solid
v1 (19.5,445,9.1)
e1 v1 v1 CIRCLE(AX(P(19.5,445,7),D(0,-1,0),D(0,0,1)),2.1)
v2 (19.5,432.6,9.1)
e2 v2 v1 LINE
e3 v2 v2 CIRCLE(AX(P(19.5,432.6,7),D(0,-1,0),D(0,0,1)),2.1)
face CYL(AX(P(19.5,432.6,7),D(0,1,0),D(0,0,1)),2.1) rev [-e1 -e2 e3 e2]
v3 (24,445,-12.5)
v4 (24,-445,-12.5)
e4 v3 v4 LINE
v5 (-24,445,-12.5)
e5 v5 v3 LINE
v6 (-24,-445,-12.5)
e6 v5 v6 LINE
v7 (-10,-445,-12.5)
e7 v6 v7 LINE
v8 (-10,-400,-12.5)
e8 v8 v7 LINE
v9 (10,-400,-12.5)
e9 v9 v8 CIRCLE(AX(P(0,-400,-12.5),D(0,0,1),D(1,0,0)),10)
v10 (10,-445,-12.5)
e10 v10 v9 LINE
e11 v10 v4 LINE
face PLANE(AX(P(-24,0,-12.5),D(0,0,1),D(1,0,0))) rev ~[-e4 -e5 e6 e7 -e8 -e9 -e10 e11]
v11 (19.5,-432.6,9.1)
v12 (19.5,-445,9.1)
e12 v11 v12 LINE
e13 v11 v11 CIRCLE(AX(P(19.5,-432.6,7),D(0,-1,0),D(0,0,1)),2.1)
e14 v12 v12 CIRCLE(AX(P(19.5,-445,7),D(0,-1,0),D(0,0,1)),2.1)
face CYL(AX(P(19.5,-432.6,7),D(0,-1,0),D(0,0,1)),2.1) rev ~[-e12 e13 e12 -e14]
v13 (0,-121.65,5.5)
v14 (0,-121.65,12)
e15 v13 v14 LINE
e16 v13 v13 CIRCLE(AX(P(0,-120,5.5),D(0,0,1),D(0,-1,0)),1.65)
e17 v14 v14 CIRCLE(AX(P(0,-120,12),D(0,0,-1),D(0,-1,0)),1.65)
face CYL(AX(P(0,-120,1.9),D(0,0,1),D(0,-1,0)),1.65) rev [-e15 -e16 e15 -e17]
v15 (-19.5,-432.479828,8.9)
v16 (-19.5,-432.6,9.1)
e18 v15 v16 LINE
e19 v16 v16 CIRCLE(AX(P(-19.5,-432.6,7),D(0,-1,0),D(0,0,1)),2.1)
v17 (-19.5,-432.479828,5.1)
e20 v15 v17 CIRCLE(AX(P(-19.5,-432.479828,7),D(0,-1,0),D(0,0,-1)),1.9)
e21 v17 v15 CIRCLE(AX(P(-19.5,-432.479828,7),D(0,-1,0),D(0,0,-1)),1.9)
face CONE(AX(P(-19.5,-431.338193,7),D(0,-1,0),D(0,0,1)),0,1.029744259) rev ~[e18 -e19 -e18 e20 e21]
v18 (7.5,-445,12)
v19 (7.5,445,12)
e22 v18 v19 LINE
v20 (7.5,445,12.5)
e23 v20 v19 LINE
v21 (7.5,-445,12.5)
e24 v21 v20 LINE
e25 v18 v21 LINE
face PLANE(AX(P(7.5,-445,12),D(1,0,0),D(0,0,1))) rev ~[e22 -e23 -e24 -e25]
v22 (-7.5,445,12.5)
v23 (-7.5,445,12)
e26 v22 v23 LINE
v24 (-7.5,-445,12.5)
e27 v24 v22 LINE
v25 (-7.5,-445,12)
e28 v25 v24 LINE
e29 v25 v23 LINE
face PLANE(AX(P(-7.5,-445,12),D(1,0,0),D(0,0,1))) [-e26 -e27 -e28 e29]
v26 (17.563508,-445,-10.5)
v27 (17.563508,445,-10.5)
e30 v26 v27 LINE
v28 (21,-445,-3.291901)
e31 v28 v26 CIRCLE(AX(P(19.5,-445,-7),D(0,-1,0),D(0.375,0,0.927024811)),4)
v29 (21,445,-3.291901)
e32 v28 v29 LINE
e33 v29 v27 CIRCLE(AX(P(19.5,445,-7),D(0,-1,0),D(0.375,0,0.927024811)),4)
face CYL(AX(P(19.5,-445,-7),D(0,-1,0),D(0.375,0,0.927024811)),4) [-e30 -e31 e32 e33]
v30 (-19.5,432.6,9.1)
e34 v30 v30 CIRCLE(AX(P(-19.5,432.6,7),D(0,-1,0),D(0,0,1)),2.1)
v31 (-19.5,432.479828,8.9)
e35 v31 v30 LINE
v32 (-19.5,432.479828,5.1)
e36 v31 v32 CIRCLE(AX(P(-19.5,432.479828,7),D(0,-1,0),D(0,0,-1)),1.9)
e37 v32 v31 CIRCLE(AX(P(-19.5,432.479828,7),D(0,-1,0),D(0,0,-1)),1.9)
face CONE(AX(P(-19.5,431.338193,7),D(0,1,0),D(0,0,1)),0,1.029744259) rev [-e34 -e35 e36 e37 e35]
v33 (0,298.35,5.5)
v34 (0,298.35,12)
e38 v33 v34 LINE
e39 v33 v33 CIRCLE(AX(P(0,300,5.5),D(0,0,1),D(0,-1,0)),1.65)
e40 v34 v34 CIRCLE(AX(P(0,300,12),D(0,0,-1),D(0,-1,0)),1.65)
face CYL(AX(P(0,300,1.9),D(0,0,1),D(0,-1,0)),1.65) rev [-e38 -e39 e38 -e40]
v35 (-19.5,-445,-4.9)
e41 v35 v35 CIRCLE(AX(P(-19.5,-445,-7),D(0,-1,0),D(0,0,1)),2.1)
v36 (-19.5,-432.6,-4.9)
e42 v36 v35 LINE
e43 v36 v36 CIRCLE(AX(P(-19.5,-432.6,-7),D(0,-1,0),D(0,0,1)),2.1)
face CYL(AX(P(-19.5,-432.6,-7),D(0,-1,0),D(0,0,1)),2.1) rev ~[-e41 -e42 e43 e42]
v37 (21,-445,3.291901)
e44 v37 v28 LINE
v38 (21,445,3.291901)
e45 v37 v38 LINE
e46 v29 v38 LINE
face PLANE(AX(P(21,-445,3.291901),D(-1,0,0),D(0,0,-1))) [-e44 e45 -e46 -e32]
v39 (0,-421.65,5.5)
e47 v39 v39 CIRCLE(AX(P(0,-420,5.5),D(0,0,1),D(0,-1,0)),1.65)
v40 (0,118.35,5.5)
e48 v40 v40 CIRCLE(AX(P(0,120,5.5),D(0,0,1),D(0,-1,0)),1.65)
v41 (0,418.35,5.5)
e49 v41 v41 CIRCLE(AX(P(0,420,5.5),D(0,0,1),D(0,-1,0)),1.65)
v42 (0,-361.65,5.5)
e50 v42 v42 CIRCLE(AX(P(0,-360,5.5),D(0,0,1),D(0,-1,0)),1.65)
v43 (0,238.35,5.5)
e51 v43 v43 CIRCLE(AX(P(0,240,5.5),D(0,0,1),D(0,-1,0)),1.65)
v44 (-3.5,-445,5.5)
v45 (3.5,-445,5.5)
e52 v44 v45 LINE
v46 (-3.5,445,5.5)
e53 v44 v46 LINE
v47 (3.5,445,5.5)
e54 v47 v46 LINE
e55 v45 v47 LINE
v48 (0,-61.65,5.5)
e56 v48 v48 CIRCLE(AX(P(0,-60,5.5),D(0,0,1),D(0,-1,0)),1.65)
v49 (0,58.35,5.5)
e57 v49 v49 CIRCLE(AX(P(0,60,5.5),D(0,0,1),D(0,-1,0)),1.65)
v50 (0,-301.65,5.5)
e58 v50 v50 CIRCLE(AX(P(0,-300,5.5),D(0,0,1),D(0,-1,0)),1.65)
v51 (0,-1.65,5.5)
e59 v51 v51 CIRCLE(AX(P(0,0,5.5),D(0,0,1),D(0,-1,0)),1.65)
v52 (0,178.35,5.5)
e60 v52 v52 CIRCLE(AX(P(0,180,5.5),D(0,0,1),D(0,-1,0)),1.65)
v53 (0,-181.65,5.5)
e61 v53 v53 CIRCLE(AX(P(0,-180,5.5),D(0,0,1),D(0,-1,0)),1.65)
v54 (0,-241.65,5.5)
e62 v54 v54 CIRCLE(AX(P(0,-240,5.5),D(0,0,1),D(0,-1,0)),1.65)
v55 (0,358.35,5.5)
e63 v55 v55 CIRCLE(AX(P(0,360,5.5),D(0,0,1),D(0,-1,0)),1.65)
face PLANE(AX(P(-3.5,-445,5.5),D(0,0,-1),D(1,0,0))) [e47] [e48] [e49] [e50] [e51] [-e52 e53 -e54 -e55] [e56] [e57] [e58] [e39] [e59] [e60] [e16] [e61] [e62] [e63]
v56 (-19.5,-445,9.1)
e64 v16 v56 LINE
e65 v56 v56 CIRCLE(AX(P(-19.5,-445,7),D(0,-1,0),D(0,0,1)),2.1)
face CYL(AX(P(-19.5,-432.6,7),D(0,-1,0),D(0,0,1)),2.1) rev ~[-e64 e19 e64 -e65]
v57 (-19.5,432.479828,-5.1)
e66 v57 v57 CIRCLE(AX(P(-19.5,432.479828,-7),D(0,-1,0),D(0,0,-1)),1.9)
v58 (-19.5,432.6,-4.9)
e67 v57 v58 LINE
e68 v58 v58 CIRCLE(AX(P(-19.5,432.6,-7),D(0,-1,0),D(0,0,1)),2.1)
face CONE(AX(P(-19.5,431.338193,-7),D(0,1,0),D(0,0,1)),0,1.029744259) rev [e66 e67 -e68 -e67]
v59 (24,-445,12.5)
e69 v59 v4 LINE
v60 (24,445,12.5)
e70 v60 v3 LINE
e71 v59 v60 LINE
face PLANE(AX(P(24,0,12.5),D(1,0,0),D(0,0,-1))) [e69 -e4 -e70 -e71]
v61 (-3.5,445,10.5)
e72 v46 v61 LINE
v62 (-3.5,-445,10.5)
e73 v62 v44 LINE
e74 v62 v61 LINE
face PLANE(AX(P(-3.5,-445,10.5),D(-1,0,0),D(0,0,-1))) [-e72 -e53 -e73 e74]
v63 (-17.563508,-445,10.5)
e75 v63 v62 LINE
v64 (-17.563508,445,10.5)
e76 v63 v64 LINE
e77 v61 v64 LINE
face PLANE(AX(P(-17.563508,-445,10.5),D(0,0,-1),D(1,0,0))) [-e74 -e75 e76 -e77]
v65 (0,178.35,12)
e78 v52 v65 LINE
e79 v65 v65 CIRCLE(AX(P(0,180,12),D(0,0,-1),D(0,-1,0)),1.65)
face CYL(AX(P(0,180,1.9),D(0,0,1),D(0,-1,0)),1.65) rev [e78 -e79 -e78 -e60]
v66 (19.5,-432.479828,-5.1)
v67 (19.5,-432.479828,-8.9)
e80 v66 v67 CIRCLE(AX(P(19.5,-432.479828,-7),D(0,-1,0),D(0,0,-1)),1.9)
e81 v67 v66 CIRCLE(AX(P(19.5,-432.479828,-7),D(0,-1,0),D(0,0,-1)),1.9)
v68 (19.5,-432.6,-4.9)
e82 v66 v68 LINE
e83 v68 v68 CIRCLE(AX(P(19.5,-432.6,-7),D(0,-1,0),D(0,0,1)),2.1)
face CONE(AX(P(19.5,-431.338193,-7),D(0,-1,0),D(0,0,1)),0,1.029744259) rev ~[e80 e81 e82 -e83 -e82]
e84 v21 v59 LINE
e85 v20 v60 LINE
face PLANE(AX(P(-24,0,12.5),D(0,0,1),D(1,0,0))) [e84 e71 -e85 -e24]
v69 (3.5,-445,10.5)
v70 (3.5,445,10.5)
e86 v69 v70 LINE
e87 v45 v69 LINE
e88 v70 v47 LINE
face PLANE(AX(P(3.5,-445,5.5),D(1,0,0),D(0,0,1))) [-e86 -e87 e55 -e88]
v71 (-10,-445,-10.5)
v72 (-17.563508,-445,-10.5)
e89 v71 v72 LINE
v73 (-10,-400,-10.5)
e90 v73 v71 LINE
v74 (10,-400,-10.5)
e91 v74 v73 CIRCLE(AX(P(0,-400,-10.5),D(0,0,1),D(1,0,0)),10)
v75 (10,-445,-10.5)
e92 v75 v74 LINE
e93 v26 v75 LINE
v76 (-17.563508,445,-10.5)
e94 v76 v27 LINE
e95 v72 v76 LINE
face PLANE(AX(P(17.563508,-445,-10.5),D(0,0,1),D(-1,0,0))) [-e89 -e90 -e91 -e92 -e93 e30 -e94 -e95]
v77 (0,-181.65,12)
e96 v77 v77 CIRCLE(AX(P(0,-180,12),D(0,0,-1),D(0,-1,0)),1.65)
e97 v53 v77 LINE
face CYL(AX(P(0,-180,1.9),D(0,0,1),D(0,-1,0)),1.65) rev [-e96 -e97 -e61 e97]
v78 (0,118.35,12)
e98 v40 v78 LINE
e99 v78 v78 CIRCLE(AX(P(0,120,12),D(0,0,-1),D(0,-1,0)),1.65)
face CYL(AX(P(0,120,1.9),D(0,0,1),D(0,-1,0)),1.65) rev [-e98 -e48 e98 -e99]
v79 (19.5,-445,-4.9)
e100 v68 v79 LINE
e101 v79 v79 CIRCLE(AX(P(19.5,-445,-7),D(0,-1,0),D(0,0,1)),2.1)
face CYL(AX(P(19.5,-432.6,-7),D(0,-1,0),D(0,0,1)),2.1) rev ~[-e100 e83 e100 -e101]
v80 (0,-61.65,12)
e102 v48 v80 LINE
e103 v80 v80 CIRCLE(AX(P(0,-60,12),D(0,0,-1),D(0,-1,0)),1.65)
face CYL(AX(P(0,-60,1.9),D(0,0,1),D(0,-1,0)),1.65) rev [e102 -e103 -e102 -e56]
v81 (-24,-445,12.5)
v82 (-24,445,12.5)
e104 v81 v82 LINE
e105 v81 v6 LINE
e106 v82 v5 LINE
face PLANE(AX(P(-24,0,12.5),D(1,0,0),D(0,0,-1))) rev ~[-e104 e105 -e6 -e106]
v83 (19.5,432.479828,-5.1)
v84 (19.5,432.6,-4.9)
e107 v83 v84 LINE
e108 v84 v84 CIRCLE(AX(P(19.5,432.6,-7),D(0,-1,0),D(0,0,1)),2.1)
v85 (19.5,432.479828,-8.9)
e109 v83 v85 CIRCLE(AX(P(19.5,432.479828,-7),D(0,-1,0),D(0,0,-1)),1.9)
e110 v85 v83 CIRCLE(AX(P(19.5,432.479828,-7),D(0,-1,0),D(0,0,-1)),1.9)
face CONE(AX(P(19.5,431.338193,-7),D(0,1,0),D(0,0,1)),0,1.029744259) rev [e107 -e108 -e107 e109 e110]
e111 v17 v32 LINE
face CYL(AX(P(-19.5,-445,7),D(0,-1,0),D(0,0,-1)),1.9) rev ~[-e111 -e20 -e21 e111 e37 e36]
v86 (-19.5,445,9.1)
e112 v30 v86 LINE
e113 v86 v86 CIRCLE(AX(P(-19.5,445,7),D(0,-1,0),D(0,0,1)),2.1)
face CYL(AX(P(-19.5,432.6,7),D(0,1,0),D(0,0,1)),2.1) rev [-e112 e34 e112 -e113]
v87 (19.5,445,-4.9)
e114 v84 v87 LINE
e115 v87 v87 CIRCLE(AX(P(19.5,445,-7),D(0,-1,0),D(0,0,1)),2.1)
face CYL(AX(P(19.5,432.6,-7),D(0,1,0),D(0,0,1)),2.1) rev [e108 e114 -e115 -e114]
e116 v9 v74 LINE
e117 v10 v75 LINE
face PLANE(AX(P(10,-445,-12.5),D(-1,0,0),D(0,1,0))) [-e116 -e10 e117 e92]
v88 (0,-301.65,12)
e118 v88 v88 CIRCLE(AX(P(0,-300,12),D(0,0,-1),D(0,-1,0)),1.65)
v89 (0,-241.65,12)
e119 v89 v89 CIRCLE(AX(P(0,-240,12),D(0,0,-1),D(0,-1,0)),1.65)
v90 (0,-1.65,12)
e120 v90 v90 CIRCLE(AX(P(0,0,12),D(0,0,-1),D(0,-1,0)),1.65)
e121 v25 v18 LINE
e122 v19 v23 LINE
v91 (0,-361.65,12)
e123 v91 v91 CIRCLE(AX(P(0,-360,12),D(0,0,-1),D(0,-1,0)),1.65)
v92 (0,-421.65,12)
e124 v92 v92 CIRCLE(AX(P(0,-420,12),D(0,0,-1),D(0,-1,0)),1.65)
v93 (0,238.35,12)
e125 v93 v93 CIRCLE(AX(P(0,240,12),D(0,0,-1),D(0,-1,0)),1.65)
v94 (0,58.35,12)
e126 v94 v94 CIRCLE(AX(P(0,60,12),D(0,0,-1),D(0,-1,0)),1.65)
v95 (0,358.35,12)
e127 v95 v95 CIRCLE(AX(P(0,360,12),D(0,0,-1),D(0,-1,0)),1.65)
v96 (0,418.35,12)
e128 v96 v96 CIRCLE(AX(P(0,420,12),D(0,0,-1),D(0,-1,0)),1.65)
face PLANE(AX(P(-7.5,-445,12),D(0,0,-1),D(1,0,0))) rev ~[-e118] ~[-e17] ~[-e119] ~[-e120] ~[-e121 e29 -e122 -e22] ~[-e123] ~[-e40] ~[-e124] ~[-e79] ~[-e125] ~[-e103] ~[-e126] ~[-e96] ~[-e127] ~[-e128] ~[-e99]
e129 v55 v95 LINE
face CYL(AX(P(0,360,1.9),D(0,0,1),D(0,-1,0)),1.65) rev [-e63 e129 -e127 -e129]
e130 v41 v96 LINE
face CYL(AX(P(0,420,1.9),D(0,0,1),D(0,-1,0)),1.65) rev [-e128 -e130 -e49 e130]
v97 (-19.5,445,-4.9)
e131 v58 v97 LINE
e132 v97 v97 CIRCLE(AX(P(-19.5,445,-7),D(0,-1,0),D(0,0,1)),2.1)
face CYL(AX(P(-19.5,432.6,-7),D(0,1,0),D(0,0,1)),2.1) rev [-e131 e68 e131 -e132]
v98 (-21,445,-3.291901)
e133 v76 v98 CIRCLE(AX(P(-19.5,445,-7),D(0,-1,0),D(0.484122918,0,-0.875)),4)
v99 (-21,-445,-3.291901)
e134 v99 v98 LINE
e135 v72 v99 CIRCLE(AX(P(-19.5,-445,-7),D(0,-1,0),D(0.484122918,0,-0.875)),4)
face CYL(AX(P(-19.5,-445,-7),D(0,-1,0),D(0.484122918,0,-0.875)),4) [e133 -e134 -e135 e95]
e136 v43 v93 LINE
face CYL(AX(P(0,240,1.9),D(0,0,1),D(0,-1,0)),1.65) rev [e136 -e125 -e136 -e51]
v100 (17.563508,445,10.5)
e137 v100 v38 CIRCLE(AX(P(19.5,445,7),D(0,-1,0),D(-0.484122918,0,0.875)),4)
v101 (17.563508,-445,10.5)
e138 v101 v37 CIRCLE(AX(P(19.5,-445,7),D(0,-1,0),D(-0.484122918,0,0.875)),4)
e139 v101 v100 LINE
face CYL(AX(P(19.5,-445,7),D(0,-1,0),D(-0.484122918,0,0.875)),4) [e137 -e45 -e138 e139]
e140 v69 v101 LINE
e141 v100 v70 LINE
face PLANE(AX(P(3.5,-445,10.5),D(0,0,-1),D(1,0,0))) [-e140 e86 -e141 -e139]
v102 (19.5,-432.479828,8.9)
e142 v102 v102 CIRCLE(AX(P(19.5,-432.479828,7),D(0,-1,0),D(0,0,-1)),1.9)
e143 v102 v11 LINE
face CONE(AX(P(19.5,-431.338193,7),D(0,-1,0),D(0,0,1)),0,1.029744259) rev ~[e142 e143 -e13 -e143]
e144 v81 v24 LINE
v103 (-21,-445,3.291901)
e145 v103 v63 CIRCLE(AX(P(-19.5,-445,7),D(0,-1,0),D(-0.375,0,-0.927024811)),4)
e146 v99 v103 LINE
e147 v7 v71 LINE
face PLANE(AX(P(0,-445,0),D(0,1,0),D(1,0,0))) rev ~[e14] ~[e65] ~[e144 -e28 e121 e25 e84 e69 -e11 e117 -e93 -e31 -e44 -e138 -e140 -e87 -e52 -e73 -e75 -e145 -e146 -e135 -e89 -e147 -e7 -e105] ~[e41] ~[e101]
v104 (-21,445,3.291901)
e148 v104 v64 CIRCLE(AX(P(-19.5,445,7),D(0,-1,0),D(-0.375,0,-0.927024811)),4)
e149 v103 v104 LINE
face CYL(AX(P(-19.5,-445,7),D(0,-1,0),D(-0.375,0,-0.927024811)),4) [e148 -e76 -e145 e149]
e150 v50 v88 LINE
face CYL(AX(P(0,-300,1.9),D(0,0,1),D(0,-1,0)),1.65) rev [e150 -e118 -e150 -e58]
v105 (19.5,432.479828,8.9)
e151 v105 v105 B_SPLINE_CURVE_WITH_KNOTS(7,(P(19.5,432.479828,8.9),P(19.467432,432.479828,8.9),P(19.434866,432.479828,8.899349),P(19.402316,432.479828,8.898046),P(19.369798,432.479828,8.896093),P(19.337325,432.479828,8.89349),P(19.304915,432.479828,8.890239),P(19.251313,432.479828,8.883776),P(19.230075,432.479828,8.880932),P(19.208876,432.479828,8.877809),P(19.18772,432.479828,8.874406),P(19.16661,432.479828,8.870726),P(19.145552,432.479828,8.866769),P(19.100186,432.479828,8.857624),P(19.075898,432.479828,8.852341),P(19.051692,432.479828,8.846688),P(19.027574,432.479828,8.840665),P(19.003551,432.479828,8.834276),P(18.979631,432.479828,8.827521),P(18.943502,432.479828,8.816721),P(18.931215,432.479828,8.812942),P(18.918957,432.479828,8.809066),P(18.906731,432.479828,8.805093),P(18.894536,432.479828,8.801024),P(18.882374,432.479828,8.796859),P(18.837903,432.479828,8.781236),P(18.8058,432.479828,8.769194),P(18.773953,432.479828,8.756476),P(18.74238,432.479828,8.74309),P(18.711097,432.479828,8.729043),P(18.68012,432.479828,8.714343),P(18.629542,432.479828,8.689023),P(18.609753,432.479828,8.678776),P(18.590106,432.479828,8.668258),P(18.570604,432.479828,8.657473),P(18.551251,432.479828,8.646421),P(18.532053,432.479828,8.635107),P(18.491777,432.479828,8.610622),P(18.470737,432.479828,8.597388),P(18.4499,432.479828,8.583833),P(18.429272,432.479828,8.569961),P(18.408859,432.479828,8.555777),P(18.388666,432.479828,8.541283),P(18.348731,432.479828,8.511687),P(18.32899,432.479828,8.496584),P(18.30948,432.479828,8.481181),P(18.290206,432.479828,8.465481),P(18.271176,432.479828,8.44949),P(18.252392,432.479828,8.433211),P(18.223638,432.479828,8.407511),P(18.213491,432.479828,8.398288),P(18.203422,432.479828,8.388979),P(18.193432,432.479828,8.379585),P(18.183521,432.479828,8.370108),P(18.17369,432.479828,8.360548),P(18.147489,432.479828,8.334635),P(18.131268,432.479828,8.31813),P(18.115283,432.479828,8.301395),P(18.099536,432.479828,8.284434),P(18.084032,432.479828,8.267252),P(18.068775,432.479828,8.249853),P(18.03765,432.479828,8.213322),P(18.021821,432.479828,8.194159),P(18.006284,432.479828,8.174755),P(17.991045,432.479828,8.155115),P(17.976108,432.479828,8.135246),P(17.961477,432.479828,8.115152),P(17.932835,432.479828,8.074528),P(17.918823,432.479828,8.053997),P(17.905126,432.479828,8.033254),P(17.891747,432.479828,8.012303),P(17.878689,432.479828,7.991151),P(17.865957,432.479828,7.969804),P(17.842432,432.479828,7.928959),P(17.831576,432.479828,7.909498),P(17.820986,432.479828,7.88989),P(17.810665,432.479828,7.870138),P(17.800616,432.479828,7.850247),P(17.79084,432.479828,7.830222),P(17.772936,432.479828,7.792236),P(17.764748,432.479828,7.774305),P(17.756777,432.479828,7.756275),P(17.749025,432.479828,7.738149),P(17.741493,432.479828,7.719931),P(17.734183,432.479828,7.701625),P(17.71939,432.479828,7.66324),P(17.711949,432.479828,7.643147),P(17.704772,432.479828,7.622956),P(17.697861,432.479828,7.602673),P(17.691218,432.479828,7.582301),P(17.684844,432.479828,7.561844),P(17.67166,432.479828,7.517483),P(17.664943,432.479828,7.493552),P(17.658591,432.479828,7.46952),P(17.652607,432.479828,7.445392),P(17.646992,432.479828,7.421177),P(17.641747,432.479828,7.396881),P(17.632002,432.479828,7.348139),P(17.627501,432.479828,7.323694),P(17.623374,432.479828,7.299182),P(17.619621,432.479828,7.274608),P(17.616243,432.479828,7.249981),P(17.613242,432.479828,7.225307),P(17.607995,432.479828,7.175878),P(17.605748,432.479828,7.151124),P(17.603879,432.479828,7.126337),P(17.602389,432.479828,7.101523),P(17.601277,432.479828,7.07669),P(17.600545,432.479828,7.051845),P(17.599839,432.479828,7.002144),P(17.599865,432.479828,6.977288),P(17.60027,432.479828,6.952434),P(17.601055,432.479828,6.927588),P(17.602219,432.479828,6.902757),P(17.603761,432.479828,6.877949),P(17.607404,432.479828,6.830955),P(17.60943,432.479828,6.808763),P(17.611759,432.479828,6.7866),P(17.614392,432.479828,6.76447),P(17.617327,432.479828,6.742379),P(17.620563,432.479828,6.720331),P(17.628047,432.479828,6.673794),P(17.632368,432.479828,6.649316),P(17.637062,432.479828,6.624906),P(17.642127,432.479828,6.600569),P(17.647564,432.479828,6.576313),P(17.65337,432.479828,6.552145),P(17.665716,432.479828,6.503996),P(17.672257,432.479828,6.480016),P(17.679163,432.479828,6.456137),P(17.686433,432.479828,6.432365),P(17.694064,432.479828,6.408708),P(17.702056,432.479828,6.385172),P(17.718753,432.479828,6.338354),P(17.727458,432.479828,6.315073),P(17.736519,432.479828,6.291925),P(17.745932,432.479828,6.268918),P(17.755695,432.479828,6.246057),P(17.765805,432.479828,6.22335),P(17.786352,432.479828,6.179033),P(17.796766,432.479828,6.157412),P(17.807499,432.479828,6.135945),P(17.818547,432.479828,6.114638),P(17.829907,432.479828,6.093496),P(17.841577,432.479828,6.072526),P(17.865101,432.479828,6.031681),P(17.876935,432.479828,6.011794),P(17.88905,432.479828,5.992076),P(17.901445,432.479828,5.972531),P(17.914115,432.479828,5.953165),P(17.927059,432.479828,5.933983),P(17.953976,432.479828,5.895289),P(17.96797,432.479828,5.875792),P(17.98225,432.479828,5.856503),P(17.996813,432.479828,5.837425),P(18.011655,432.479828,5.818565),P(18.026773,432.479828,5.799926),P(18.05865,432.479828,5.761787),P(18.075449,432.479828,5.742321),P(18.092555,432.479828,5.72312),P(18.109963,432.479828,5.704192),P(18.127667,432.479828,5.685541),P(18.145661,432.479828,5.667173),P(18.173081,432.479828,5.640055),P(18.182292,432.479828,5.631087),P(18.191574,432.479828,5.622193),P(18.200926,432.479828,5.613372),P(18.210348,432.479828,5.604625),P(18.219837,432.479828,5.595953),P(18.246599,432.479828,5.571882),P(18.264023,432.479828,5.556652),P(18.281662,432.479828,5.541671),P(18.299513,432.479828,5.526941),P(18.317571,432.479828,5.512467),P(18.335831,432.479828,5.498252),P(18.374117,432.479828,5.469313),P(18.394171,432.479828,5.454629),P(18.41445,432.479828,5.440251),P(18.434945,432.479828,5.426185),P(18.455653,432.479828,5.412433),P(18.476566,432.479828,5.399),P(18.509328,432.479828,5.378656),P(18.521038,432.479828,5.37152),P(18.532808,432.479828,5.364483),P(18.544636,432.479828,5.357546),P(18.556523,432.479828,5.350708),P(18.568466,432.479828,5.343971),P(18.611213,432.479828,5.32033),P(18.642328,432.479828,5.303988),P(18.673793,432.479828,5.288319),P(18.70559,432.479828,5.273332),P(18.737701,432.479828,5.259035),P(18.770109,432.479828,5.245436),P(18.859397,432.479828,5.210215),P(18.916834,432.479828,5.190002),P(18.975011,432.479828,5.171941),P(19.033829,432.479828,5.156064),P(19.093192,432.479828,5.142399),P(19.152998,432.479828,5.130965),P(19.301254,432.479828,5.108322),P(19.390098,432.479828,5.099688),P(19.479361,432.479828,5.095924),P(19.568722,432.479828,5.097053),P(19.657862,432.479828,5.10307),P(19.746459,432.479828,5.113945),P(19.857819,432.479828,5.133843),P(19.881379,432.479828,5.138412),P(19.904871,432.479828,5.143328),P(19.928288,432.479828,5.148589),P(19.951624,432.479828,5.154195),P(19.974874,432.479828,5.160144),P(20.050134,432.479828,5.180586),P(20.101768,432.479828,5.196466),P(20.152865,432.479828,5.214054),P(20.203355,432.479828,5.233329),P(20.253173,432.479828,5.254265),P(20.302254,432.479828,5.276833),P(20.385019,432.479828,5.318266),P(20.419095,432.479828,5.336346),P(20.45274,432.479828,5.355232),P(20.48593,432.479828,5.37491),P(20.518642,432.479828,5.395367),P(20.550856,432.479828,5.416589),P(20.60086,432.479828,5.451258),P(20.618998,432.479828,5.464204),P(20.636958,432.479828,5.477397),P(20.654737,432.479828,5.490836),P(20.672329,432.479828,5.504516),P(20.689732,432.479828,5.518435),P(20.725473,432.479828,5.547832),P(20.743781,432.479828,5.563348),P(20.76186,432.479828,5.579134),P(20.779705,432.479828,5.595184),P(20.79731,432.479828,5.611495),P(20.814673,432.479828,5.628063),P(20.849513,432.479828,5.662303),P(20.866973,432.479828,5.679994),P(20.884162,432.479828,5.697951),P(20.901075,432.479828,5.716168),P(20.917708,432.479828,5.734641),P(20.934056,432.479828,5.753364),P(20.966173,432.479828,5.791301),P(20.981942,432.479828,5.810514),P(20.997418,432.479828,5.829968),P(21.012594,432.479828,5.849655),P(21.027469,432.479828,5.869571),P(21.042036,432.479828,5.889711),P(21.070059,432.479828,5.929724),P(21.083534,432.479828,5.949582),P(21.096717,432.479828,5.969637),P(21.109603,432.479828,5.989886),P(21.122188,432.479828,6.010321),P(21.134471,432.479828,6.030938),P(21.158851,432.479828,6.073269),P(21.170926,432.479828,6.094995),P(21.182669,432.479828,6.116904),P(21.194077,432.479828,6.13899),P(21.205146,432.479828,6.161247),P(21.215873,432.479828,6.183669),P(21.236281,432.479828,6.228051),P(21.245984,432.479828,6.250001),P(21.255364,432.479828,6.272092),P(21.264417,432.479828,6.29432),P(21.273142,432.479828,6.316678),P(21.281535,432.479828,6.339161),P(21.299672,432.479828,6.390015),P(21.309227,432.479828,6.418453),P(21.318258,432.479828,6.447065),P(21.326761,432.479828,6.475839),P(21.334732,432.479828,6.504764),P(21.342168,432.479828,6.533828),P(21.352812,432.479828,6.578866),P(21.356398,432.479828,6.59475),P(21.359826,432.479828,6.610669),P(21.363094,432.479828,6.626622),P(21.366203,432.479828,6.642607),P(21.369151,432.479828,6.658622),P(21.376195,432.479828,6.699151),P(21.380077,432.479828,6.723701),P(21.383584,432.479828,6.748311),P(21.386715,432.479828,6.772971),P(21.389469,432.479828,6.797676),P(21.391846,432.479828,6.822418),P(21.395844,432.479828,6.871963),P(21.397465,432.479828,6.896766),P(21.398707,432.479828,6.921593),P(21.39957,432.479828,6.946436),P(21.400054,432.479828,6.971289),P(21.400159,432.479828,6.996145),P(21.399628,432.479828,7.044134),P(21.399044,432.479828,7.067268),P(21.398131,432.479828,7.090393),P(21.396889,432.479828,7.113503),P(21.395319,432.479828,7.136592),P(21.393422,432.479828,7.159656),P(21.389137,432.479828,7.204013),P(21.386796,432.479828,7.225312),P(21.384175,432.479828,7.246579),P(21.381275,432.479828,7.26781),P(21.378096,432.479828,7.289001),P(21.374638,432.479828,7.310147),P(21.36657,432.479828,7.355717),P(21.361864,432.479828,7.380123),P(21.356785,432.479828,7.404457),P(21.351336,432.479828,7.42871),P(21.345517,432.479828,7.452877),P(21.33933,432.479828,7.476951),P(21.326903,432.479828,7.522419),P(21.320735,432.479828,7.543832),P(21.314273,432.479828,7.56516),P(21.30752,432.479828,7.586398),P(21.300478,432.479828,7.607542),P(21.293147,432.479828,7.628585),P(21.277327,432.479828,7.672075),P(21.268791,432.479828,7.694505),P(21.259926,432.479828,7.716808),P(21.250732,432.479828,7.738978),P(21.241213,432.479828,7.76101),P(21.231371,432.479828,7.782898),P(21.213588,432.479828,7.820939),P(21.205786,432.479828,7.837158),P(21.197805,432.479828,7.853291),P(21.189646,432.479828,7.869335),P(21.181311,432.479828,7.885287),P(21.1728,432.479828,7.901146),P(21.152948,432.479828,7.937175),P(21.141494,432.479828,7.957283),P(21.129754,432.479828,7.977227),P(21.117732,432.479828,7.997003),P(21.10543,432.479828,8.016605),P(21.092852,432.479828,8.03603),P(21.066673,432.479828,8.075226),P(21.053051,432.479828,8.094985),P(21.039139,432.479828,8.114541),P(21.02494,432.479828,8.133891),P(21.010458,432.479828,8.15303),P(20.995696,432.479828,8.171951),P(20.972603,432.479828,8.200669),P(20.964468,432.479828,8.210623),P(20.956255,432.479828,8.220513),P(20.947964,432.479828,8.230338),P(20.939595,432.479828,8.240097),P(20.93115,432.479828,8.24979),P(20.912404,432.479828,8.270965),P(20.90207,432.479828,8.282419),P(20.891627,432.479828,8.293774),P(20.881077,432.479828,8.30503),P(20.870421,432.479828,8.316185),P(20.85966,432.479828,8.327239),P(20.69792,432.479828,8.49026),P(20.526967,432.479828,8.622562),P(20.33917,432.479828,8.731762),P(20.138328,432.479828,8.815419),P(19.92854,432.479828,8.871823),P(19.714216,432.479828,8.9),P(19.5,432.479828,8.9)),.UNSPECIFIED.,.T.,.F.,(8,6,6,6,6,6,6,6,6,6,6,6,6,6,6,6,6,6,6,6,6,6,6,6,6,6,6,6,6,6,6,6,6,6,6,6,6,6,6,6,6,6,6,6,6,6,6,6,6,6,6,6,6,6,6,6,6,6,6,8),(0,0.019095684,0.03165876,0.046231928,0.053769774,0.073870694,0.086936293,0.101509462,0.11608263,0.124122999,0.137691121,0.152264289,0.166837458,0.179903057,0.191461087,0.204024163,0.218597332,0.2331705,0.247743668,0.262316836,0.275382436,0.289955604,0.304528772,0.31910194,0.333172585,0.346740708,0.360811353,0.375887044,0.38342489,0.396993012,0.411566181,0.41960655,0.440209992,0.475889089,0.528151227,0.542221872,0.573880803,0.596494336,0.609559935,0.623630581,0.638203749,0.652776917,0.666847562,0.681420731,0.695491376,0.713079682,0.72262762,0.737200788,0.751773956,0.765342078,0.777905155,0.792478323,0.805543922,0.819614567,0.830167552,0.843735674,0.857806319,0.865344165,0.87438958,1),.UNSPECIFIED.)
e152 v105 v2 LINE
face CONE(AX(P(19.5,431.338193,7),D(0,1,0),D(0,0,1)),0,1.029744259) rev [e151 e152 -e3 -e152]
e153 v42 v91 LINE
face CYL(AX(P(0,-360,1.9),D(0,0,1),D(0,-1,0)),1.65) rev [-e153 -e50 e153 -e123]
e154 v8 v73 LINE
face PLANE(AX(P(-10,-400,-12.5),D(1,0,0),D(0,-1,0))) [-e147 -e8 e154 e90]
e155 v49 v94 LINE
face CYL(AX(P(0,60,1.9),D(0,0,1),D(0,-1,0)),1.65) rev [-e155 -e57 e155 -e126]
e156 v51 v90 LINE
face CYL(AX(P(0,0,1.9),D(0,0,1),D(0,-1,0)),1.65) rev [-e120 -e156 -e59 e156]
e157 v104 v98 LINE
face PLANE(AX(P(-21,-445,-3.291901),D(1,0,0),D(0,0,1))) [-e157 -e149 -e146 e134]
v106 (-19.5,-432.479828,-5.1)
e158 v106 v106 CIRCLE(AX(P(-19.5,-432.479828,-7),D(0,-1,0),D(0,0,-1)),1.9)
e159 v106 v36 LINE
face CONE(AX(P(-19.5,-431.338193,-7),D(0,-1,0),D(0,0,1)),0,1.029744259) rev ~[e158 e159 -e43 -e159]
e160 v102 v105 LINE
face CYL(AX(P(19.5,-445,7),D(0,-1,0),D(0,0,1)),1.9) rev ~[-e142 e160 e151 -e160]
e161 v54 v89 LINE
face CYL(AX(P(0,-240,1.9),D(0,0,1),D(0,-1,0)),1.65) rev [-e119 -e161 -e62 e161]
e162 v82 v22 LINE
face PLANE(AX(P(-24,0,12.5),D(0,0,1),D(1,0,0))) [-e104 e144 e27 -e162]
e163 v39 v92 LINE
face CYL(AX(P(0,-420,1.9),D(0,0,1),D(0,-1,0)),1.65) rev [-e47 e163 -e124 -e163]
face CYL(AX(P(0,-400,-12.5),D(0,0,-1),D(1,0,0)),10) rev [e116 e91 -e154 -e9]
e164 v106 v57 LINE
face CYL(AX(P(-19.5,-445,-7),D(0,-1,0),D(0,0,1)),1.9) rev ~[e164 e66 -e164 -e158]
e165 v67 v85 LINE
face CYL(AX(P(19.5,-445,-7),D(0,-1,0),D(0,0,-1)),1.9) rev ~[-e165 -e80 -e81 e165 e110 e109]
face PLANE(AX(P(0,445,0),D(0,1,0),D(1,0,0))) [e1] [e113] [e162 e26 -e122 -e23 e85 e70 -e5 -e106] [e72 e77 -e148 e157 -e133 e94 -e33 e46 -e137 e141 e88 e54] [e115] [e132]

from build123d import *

# Parameters (mm, degrees)
SKETCH_1_W             = 48
SKETCH_1_H             = 25
EXTRUDE_1_DEPTH        = 445
SKETCH_2_R             = 1.9
CUT_EXTRUDE_1_DEPTH    = 891.411281375
SKETCH_3_W             = 15
SKETCH_3_H             = 0.5
CUT_EXTRUDE_2_DEPTH    = 891.411281375
PATTERN_LINEAR_1_COUNT = 15
PATTERN_LINEAR_1_PITCH = 60
CUT_EXTRUDE_3_DEPTH    = 2
M5X0_8_1_AT_2_COUNT    = 2
M5X0_8_1_AT_2_PITCH    = 14
M5X0_8_1_AT_3_COUNT    = 2
M5X0_8_1_AT_3_PITCH    = 39
M5X0_8_1_AT_4_COUNT    = 2
M5X0_8_1_AT_4_PITCH    = 41.43669871


with BuildPart() as part:
    # 草图1 → 凸台-拉伸1 (new, symmetric)
    with BuildSketch(Plane(origin=(0, 0, 0), x_dir=(1, 0, 0), z_dir=(0, 1, 0))):
        Rectangle(SKETCH_1_W, SKETCH_1_H)
    extrude(amount=EXTRUDE_1_DEPTH, both=True)

    # 草图2 → 切除-拉伸1 (cut, through all)
    with BuildSketch(Plane.XZ.offset(445)):
        with Locations(Location((-19.5, 7, 0), (0, 0, 270))):
            Circle(SKETCH_2_R)
        with Locations(Location((-19.5, -7, 0), (0, 0, 90))):
            Circle(SKETCH_2_R)
        with Locations(Location((19.5, -7, 0), (0, 0, 270))):
            Circle(SKETCH_2_R)
        with Locations(Location((19.5, 7, 0), (0, 0, 90))):
            Circle(SKETCH_2_R)
        with BuildLine():
            Line((-17.563508327, 10.5), (-3.5, 10.5))
            Line((-3.5, 10.5), (-3.5, 5.5))
            Line((-3.5, 5.5), (3.5, 5.5))
            Line((3.5, 5.5), (3.5, 10.5))
            Line((3.5, 10.5), (17.563508327, 10.5))
            ThreePointArc((17.563508327, 10.5), (15.889348408, 5.278606646), (21, 3.291900756))
            Line((21, 3.291900756), (21, -3.291900756))
            ThreePointArc((21, -3.291900756), (15.889348408, -5.278606646), (17.563508327, -10.5))
            Line((17.563508327, -10.5), (-17.563508327, -10.5))
            ThreePointArc((-17.563508327, -10.5), (-15.889348408, -5.278606646), (-21, -3.291900756))
            Line((-21, -3.291900756), (-21, 3.291900756))
            ThreePointArc((-21, 3.291900756), (-15.889348408, 5.278606646), (-17.563508327, 10.5))
        make_face()
    extrude(amount=-CUT_EXTRUDE_1_DEPTH, mode=Mode.SUBTRACT)

    # 草图3 → 切除-拉伸2 (cut, through all)
    with BuildSketch(Plane.XZ.offset(445)):
        with Locations((0, 12.25)):
            Rectangle(SKETCH_3_W, SKETCH_3_H)
    extrude(amount=-CUT_EXTRUDE_2_DEPTH, mode=Mode.SUBTRACT)

    # 草图4 → M4x0.7 螺纹孔1 (revolve, cut)
    with BuildSketch(Plane(origin=(0, 420, 12), x_dir=(0, -1, 0), z_dir=(1, 0, 0))):
        Polygon((0, 0), (0, 11.091420021), (1.65, 10.1), (1.65, 0), align=None)
    m4x0_7_1 = revolve(axis=Axis((0, 420, 18.35), (0, 0, -1)), mode=Mode.SUBTRACT)

    # 阵列(线性)1: M4x0.7 螺纹孔1 ×15
    with Locations(*[(0, -i * PATTERN_LINEAR_1_PITCH, 0) for i in range(1, PATTERN_LINEAR_1_COUNT)]):
        add(m4x0_7_1, mode=Mode.SUBTRACT)

    # 草图6 → 切除-拉伸3 (cut)
    with BuildSketch(Plane(origin=(0, 0, -12.5), x_dir=(-1, 0, 0), z_dir=(0, 0, -1))):
        with BuildLine():
            Line((10, -400), (10, -445))
            ThreePointArc((10, -445), (0, -455), (-10, -445))
            Line((-10, -445), (-10, -400))
            ThreePointArc((-10, -400), (0, -390), (10, -400))
        make_face()
    extrude(amount=-CUT_EXTRUDE_3_DEPTH, mode=Mode.SUBTRACT)

    # 草图7 → M5x0.8 螺纹孔1 (revolve, cut)
    with BuildSketch(Plane(origin=(-19.5, 445, -7), x_dir=(0, 0, 1), z_dir=(1, 0, 0))):
        Polygon((0, 0), (0, 13.6618073), (2.1, 12.4), (2.1, 0), align=None)
    m5x0_8_1 = revolve(axis=Axis((-19.5, 451.35, -7), (0, -1, 0)), mode=Mode.SUBTRACT)

    # M5x0.8 螺纹孔1 at 2: M5x0.8 螺纹孔1 ×2
    with Locations(*[(0, 0, i * M5X0_8_1_AT_2_PITCH) for i in range(1, M5X0_8_1_AT_2_COUNT)]):
        add(m5x0_8_1, mode=Mode.SUBTRACT)

    # M5x0.8 螺纹孔1 at 3: M5x0.8 螺纹孔1 ×2
    with Locations(*[(i * M5X0_8_1_AT_3_PITCH, 0, 0) for i in range(1, M5X0_8_1_AT_3_COUNT)]):
        add(m5x0_8_1, mode=Mode.SUBTRACT)

    # M5x0.8 螺纹孔1 at 4: M5x0.8 螺纹孔1 ×2
    with Locations(*[Vector(0.9411946707617075, 0, 0.33786475360676677) * (i * M5X0_8_1_AT_4_PITCH) for i in range(1, M5X0_8_1_AT_4_COUNT)]):
        add(m5x0_8_1, mode=Mode.SUBTRACT)

    # 镜向1: M5x0.8 螺纹孔1 across plane
    add(m5x0_8_1.mirror(Plane.ZX), mode=Mode.SUBTRACT)

    # 镜向1 copy 1 sketch → 镜向1 copy 1 (revolve, cut)
    with BuildSketch(Plane(origin=(-19.5, -445, 7), x_dir=(0, 0, 1), z_dir=(1, 0, 0))):
        Polygon((0, 0), (0, -13.6618073), (2.1, -12.4), (2.1, 0), align=None)
    revolve(axis=Axis((-19.5, -451.35, 7), (0, -1, 0)), mode=Mode.SUBTRACT)

    # 镜向1 copy 2 sketch → 镜向1 copy 2 (revolve, cut)
    with BuildSketch(Plane(origin=(19.5, -445, -7), x_dir=(0, 0, 1), z_dir=(1, 0, 0))):
        Polygon((0, 0), (0, -13.6618073), (2.1, -12.4), (2.1, 0), align=None)
    revolve(axis=Axis((19.5, -451.35, -7), (0, -1, 0)), mode=Mode.SUBTRACT)

    # 镜向1 copy 3 sketch → 镜向1 copy 3 (revolve, cut)
    with BuildSketch(Plane(origin=(19.5, -445, 7), x_dir=(0, 0, 1), z_dir=(1, 0, 0))):
        Polygon((0, 0), (0, -13.6618073), (2.1, -12.4), (2.1, 0), align=None)
    revolve(axis=Axis((19.5, -451.35, 7), (0, -1, 0)), mode=Mode.SUBTRACT)


solid = part.part
